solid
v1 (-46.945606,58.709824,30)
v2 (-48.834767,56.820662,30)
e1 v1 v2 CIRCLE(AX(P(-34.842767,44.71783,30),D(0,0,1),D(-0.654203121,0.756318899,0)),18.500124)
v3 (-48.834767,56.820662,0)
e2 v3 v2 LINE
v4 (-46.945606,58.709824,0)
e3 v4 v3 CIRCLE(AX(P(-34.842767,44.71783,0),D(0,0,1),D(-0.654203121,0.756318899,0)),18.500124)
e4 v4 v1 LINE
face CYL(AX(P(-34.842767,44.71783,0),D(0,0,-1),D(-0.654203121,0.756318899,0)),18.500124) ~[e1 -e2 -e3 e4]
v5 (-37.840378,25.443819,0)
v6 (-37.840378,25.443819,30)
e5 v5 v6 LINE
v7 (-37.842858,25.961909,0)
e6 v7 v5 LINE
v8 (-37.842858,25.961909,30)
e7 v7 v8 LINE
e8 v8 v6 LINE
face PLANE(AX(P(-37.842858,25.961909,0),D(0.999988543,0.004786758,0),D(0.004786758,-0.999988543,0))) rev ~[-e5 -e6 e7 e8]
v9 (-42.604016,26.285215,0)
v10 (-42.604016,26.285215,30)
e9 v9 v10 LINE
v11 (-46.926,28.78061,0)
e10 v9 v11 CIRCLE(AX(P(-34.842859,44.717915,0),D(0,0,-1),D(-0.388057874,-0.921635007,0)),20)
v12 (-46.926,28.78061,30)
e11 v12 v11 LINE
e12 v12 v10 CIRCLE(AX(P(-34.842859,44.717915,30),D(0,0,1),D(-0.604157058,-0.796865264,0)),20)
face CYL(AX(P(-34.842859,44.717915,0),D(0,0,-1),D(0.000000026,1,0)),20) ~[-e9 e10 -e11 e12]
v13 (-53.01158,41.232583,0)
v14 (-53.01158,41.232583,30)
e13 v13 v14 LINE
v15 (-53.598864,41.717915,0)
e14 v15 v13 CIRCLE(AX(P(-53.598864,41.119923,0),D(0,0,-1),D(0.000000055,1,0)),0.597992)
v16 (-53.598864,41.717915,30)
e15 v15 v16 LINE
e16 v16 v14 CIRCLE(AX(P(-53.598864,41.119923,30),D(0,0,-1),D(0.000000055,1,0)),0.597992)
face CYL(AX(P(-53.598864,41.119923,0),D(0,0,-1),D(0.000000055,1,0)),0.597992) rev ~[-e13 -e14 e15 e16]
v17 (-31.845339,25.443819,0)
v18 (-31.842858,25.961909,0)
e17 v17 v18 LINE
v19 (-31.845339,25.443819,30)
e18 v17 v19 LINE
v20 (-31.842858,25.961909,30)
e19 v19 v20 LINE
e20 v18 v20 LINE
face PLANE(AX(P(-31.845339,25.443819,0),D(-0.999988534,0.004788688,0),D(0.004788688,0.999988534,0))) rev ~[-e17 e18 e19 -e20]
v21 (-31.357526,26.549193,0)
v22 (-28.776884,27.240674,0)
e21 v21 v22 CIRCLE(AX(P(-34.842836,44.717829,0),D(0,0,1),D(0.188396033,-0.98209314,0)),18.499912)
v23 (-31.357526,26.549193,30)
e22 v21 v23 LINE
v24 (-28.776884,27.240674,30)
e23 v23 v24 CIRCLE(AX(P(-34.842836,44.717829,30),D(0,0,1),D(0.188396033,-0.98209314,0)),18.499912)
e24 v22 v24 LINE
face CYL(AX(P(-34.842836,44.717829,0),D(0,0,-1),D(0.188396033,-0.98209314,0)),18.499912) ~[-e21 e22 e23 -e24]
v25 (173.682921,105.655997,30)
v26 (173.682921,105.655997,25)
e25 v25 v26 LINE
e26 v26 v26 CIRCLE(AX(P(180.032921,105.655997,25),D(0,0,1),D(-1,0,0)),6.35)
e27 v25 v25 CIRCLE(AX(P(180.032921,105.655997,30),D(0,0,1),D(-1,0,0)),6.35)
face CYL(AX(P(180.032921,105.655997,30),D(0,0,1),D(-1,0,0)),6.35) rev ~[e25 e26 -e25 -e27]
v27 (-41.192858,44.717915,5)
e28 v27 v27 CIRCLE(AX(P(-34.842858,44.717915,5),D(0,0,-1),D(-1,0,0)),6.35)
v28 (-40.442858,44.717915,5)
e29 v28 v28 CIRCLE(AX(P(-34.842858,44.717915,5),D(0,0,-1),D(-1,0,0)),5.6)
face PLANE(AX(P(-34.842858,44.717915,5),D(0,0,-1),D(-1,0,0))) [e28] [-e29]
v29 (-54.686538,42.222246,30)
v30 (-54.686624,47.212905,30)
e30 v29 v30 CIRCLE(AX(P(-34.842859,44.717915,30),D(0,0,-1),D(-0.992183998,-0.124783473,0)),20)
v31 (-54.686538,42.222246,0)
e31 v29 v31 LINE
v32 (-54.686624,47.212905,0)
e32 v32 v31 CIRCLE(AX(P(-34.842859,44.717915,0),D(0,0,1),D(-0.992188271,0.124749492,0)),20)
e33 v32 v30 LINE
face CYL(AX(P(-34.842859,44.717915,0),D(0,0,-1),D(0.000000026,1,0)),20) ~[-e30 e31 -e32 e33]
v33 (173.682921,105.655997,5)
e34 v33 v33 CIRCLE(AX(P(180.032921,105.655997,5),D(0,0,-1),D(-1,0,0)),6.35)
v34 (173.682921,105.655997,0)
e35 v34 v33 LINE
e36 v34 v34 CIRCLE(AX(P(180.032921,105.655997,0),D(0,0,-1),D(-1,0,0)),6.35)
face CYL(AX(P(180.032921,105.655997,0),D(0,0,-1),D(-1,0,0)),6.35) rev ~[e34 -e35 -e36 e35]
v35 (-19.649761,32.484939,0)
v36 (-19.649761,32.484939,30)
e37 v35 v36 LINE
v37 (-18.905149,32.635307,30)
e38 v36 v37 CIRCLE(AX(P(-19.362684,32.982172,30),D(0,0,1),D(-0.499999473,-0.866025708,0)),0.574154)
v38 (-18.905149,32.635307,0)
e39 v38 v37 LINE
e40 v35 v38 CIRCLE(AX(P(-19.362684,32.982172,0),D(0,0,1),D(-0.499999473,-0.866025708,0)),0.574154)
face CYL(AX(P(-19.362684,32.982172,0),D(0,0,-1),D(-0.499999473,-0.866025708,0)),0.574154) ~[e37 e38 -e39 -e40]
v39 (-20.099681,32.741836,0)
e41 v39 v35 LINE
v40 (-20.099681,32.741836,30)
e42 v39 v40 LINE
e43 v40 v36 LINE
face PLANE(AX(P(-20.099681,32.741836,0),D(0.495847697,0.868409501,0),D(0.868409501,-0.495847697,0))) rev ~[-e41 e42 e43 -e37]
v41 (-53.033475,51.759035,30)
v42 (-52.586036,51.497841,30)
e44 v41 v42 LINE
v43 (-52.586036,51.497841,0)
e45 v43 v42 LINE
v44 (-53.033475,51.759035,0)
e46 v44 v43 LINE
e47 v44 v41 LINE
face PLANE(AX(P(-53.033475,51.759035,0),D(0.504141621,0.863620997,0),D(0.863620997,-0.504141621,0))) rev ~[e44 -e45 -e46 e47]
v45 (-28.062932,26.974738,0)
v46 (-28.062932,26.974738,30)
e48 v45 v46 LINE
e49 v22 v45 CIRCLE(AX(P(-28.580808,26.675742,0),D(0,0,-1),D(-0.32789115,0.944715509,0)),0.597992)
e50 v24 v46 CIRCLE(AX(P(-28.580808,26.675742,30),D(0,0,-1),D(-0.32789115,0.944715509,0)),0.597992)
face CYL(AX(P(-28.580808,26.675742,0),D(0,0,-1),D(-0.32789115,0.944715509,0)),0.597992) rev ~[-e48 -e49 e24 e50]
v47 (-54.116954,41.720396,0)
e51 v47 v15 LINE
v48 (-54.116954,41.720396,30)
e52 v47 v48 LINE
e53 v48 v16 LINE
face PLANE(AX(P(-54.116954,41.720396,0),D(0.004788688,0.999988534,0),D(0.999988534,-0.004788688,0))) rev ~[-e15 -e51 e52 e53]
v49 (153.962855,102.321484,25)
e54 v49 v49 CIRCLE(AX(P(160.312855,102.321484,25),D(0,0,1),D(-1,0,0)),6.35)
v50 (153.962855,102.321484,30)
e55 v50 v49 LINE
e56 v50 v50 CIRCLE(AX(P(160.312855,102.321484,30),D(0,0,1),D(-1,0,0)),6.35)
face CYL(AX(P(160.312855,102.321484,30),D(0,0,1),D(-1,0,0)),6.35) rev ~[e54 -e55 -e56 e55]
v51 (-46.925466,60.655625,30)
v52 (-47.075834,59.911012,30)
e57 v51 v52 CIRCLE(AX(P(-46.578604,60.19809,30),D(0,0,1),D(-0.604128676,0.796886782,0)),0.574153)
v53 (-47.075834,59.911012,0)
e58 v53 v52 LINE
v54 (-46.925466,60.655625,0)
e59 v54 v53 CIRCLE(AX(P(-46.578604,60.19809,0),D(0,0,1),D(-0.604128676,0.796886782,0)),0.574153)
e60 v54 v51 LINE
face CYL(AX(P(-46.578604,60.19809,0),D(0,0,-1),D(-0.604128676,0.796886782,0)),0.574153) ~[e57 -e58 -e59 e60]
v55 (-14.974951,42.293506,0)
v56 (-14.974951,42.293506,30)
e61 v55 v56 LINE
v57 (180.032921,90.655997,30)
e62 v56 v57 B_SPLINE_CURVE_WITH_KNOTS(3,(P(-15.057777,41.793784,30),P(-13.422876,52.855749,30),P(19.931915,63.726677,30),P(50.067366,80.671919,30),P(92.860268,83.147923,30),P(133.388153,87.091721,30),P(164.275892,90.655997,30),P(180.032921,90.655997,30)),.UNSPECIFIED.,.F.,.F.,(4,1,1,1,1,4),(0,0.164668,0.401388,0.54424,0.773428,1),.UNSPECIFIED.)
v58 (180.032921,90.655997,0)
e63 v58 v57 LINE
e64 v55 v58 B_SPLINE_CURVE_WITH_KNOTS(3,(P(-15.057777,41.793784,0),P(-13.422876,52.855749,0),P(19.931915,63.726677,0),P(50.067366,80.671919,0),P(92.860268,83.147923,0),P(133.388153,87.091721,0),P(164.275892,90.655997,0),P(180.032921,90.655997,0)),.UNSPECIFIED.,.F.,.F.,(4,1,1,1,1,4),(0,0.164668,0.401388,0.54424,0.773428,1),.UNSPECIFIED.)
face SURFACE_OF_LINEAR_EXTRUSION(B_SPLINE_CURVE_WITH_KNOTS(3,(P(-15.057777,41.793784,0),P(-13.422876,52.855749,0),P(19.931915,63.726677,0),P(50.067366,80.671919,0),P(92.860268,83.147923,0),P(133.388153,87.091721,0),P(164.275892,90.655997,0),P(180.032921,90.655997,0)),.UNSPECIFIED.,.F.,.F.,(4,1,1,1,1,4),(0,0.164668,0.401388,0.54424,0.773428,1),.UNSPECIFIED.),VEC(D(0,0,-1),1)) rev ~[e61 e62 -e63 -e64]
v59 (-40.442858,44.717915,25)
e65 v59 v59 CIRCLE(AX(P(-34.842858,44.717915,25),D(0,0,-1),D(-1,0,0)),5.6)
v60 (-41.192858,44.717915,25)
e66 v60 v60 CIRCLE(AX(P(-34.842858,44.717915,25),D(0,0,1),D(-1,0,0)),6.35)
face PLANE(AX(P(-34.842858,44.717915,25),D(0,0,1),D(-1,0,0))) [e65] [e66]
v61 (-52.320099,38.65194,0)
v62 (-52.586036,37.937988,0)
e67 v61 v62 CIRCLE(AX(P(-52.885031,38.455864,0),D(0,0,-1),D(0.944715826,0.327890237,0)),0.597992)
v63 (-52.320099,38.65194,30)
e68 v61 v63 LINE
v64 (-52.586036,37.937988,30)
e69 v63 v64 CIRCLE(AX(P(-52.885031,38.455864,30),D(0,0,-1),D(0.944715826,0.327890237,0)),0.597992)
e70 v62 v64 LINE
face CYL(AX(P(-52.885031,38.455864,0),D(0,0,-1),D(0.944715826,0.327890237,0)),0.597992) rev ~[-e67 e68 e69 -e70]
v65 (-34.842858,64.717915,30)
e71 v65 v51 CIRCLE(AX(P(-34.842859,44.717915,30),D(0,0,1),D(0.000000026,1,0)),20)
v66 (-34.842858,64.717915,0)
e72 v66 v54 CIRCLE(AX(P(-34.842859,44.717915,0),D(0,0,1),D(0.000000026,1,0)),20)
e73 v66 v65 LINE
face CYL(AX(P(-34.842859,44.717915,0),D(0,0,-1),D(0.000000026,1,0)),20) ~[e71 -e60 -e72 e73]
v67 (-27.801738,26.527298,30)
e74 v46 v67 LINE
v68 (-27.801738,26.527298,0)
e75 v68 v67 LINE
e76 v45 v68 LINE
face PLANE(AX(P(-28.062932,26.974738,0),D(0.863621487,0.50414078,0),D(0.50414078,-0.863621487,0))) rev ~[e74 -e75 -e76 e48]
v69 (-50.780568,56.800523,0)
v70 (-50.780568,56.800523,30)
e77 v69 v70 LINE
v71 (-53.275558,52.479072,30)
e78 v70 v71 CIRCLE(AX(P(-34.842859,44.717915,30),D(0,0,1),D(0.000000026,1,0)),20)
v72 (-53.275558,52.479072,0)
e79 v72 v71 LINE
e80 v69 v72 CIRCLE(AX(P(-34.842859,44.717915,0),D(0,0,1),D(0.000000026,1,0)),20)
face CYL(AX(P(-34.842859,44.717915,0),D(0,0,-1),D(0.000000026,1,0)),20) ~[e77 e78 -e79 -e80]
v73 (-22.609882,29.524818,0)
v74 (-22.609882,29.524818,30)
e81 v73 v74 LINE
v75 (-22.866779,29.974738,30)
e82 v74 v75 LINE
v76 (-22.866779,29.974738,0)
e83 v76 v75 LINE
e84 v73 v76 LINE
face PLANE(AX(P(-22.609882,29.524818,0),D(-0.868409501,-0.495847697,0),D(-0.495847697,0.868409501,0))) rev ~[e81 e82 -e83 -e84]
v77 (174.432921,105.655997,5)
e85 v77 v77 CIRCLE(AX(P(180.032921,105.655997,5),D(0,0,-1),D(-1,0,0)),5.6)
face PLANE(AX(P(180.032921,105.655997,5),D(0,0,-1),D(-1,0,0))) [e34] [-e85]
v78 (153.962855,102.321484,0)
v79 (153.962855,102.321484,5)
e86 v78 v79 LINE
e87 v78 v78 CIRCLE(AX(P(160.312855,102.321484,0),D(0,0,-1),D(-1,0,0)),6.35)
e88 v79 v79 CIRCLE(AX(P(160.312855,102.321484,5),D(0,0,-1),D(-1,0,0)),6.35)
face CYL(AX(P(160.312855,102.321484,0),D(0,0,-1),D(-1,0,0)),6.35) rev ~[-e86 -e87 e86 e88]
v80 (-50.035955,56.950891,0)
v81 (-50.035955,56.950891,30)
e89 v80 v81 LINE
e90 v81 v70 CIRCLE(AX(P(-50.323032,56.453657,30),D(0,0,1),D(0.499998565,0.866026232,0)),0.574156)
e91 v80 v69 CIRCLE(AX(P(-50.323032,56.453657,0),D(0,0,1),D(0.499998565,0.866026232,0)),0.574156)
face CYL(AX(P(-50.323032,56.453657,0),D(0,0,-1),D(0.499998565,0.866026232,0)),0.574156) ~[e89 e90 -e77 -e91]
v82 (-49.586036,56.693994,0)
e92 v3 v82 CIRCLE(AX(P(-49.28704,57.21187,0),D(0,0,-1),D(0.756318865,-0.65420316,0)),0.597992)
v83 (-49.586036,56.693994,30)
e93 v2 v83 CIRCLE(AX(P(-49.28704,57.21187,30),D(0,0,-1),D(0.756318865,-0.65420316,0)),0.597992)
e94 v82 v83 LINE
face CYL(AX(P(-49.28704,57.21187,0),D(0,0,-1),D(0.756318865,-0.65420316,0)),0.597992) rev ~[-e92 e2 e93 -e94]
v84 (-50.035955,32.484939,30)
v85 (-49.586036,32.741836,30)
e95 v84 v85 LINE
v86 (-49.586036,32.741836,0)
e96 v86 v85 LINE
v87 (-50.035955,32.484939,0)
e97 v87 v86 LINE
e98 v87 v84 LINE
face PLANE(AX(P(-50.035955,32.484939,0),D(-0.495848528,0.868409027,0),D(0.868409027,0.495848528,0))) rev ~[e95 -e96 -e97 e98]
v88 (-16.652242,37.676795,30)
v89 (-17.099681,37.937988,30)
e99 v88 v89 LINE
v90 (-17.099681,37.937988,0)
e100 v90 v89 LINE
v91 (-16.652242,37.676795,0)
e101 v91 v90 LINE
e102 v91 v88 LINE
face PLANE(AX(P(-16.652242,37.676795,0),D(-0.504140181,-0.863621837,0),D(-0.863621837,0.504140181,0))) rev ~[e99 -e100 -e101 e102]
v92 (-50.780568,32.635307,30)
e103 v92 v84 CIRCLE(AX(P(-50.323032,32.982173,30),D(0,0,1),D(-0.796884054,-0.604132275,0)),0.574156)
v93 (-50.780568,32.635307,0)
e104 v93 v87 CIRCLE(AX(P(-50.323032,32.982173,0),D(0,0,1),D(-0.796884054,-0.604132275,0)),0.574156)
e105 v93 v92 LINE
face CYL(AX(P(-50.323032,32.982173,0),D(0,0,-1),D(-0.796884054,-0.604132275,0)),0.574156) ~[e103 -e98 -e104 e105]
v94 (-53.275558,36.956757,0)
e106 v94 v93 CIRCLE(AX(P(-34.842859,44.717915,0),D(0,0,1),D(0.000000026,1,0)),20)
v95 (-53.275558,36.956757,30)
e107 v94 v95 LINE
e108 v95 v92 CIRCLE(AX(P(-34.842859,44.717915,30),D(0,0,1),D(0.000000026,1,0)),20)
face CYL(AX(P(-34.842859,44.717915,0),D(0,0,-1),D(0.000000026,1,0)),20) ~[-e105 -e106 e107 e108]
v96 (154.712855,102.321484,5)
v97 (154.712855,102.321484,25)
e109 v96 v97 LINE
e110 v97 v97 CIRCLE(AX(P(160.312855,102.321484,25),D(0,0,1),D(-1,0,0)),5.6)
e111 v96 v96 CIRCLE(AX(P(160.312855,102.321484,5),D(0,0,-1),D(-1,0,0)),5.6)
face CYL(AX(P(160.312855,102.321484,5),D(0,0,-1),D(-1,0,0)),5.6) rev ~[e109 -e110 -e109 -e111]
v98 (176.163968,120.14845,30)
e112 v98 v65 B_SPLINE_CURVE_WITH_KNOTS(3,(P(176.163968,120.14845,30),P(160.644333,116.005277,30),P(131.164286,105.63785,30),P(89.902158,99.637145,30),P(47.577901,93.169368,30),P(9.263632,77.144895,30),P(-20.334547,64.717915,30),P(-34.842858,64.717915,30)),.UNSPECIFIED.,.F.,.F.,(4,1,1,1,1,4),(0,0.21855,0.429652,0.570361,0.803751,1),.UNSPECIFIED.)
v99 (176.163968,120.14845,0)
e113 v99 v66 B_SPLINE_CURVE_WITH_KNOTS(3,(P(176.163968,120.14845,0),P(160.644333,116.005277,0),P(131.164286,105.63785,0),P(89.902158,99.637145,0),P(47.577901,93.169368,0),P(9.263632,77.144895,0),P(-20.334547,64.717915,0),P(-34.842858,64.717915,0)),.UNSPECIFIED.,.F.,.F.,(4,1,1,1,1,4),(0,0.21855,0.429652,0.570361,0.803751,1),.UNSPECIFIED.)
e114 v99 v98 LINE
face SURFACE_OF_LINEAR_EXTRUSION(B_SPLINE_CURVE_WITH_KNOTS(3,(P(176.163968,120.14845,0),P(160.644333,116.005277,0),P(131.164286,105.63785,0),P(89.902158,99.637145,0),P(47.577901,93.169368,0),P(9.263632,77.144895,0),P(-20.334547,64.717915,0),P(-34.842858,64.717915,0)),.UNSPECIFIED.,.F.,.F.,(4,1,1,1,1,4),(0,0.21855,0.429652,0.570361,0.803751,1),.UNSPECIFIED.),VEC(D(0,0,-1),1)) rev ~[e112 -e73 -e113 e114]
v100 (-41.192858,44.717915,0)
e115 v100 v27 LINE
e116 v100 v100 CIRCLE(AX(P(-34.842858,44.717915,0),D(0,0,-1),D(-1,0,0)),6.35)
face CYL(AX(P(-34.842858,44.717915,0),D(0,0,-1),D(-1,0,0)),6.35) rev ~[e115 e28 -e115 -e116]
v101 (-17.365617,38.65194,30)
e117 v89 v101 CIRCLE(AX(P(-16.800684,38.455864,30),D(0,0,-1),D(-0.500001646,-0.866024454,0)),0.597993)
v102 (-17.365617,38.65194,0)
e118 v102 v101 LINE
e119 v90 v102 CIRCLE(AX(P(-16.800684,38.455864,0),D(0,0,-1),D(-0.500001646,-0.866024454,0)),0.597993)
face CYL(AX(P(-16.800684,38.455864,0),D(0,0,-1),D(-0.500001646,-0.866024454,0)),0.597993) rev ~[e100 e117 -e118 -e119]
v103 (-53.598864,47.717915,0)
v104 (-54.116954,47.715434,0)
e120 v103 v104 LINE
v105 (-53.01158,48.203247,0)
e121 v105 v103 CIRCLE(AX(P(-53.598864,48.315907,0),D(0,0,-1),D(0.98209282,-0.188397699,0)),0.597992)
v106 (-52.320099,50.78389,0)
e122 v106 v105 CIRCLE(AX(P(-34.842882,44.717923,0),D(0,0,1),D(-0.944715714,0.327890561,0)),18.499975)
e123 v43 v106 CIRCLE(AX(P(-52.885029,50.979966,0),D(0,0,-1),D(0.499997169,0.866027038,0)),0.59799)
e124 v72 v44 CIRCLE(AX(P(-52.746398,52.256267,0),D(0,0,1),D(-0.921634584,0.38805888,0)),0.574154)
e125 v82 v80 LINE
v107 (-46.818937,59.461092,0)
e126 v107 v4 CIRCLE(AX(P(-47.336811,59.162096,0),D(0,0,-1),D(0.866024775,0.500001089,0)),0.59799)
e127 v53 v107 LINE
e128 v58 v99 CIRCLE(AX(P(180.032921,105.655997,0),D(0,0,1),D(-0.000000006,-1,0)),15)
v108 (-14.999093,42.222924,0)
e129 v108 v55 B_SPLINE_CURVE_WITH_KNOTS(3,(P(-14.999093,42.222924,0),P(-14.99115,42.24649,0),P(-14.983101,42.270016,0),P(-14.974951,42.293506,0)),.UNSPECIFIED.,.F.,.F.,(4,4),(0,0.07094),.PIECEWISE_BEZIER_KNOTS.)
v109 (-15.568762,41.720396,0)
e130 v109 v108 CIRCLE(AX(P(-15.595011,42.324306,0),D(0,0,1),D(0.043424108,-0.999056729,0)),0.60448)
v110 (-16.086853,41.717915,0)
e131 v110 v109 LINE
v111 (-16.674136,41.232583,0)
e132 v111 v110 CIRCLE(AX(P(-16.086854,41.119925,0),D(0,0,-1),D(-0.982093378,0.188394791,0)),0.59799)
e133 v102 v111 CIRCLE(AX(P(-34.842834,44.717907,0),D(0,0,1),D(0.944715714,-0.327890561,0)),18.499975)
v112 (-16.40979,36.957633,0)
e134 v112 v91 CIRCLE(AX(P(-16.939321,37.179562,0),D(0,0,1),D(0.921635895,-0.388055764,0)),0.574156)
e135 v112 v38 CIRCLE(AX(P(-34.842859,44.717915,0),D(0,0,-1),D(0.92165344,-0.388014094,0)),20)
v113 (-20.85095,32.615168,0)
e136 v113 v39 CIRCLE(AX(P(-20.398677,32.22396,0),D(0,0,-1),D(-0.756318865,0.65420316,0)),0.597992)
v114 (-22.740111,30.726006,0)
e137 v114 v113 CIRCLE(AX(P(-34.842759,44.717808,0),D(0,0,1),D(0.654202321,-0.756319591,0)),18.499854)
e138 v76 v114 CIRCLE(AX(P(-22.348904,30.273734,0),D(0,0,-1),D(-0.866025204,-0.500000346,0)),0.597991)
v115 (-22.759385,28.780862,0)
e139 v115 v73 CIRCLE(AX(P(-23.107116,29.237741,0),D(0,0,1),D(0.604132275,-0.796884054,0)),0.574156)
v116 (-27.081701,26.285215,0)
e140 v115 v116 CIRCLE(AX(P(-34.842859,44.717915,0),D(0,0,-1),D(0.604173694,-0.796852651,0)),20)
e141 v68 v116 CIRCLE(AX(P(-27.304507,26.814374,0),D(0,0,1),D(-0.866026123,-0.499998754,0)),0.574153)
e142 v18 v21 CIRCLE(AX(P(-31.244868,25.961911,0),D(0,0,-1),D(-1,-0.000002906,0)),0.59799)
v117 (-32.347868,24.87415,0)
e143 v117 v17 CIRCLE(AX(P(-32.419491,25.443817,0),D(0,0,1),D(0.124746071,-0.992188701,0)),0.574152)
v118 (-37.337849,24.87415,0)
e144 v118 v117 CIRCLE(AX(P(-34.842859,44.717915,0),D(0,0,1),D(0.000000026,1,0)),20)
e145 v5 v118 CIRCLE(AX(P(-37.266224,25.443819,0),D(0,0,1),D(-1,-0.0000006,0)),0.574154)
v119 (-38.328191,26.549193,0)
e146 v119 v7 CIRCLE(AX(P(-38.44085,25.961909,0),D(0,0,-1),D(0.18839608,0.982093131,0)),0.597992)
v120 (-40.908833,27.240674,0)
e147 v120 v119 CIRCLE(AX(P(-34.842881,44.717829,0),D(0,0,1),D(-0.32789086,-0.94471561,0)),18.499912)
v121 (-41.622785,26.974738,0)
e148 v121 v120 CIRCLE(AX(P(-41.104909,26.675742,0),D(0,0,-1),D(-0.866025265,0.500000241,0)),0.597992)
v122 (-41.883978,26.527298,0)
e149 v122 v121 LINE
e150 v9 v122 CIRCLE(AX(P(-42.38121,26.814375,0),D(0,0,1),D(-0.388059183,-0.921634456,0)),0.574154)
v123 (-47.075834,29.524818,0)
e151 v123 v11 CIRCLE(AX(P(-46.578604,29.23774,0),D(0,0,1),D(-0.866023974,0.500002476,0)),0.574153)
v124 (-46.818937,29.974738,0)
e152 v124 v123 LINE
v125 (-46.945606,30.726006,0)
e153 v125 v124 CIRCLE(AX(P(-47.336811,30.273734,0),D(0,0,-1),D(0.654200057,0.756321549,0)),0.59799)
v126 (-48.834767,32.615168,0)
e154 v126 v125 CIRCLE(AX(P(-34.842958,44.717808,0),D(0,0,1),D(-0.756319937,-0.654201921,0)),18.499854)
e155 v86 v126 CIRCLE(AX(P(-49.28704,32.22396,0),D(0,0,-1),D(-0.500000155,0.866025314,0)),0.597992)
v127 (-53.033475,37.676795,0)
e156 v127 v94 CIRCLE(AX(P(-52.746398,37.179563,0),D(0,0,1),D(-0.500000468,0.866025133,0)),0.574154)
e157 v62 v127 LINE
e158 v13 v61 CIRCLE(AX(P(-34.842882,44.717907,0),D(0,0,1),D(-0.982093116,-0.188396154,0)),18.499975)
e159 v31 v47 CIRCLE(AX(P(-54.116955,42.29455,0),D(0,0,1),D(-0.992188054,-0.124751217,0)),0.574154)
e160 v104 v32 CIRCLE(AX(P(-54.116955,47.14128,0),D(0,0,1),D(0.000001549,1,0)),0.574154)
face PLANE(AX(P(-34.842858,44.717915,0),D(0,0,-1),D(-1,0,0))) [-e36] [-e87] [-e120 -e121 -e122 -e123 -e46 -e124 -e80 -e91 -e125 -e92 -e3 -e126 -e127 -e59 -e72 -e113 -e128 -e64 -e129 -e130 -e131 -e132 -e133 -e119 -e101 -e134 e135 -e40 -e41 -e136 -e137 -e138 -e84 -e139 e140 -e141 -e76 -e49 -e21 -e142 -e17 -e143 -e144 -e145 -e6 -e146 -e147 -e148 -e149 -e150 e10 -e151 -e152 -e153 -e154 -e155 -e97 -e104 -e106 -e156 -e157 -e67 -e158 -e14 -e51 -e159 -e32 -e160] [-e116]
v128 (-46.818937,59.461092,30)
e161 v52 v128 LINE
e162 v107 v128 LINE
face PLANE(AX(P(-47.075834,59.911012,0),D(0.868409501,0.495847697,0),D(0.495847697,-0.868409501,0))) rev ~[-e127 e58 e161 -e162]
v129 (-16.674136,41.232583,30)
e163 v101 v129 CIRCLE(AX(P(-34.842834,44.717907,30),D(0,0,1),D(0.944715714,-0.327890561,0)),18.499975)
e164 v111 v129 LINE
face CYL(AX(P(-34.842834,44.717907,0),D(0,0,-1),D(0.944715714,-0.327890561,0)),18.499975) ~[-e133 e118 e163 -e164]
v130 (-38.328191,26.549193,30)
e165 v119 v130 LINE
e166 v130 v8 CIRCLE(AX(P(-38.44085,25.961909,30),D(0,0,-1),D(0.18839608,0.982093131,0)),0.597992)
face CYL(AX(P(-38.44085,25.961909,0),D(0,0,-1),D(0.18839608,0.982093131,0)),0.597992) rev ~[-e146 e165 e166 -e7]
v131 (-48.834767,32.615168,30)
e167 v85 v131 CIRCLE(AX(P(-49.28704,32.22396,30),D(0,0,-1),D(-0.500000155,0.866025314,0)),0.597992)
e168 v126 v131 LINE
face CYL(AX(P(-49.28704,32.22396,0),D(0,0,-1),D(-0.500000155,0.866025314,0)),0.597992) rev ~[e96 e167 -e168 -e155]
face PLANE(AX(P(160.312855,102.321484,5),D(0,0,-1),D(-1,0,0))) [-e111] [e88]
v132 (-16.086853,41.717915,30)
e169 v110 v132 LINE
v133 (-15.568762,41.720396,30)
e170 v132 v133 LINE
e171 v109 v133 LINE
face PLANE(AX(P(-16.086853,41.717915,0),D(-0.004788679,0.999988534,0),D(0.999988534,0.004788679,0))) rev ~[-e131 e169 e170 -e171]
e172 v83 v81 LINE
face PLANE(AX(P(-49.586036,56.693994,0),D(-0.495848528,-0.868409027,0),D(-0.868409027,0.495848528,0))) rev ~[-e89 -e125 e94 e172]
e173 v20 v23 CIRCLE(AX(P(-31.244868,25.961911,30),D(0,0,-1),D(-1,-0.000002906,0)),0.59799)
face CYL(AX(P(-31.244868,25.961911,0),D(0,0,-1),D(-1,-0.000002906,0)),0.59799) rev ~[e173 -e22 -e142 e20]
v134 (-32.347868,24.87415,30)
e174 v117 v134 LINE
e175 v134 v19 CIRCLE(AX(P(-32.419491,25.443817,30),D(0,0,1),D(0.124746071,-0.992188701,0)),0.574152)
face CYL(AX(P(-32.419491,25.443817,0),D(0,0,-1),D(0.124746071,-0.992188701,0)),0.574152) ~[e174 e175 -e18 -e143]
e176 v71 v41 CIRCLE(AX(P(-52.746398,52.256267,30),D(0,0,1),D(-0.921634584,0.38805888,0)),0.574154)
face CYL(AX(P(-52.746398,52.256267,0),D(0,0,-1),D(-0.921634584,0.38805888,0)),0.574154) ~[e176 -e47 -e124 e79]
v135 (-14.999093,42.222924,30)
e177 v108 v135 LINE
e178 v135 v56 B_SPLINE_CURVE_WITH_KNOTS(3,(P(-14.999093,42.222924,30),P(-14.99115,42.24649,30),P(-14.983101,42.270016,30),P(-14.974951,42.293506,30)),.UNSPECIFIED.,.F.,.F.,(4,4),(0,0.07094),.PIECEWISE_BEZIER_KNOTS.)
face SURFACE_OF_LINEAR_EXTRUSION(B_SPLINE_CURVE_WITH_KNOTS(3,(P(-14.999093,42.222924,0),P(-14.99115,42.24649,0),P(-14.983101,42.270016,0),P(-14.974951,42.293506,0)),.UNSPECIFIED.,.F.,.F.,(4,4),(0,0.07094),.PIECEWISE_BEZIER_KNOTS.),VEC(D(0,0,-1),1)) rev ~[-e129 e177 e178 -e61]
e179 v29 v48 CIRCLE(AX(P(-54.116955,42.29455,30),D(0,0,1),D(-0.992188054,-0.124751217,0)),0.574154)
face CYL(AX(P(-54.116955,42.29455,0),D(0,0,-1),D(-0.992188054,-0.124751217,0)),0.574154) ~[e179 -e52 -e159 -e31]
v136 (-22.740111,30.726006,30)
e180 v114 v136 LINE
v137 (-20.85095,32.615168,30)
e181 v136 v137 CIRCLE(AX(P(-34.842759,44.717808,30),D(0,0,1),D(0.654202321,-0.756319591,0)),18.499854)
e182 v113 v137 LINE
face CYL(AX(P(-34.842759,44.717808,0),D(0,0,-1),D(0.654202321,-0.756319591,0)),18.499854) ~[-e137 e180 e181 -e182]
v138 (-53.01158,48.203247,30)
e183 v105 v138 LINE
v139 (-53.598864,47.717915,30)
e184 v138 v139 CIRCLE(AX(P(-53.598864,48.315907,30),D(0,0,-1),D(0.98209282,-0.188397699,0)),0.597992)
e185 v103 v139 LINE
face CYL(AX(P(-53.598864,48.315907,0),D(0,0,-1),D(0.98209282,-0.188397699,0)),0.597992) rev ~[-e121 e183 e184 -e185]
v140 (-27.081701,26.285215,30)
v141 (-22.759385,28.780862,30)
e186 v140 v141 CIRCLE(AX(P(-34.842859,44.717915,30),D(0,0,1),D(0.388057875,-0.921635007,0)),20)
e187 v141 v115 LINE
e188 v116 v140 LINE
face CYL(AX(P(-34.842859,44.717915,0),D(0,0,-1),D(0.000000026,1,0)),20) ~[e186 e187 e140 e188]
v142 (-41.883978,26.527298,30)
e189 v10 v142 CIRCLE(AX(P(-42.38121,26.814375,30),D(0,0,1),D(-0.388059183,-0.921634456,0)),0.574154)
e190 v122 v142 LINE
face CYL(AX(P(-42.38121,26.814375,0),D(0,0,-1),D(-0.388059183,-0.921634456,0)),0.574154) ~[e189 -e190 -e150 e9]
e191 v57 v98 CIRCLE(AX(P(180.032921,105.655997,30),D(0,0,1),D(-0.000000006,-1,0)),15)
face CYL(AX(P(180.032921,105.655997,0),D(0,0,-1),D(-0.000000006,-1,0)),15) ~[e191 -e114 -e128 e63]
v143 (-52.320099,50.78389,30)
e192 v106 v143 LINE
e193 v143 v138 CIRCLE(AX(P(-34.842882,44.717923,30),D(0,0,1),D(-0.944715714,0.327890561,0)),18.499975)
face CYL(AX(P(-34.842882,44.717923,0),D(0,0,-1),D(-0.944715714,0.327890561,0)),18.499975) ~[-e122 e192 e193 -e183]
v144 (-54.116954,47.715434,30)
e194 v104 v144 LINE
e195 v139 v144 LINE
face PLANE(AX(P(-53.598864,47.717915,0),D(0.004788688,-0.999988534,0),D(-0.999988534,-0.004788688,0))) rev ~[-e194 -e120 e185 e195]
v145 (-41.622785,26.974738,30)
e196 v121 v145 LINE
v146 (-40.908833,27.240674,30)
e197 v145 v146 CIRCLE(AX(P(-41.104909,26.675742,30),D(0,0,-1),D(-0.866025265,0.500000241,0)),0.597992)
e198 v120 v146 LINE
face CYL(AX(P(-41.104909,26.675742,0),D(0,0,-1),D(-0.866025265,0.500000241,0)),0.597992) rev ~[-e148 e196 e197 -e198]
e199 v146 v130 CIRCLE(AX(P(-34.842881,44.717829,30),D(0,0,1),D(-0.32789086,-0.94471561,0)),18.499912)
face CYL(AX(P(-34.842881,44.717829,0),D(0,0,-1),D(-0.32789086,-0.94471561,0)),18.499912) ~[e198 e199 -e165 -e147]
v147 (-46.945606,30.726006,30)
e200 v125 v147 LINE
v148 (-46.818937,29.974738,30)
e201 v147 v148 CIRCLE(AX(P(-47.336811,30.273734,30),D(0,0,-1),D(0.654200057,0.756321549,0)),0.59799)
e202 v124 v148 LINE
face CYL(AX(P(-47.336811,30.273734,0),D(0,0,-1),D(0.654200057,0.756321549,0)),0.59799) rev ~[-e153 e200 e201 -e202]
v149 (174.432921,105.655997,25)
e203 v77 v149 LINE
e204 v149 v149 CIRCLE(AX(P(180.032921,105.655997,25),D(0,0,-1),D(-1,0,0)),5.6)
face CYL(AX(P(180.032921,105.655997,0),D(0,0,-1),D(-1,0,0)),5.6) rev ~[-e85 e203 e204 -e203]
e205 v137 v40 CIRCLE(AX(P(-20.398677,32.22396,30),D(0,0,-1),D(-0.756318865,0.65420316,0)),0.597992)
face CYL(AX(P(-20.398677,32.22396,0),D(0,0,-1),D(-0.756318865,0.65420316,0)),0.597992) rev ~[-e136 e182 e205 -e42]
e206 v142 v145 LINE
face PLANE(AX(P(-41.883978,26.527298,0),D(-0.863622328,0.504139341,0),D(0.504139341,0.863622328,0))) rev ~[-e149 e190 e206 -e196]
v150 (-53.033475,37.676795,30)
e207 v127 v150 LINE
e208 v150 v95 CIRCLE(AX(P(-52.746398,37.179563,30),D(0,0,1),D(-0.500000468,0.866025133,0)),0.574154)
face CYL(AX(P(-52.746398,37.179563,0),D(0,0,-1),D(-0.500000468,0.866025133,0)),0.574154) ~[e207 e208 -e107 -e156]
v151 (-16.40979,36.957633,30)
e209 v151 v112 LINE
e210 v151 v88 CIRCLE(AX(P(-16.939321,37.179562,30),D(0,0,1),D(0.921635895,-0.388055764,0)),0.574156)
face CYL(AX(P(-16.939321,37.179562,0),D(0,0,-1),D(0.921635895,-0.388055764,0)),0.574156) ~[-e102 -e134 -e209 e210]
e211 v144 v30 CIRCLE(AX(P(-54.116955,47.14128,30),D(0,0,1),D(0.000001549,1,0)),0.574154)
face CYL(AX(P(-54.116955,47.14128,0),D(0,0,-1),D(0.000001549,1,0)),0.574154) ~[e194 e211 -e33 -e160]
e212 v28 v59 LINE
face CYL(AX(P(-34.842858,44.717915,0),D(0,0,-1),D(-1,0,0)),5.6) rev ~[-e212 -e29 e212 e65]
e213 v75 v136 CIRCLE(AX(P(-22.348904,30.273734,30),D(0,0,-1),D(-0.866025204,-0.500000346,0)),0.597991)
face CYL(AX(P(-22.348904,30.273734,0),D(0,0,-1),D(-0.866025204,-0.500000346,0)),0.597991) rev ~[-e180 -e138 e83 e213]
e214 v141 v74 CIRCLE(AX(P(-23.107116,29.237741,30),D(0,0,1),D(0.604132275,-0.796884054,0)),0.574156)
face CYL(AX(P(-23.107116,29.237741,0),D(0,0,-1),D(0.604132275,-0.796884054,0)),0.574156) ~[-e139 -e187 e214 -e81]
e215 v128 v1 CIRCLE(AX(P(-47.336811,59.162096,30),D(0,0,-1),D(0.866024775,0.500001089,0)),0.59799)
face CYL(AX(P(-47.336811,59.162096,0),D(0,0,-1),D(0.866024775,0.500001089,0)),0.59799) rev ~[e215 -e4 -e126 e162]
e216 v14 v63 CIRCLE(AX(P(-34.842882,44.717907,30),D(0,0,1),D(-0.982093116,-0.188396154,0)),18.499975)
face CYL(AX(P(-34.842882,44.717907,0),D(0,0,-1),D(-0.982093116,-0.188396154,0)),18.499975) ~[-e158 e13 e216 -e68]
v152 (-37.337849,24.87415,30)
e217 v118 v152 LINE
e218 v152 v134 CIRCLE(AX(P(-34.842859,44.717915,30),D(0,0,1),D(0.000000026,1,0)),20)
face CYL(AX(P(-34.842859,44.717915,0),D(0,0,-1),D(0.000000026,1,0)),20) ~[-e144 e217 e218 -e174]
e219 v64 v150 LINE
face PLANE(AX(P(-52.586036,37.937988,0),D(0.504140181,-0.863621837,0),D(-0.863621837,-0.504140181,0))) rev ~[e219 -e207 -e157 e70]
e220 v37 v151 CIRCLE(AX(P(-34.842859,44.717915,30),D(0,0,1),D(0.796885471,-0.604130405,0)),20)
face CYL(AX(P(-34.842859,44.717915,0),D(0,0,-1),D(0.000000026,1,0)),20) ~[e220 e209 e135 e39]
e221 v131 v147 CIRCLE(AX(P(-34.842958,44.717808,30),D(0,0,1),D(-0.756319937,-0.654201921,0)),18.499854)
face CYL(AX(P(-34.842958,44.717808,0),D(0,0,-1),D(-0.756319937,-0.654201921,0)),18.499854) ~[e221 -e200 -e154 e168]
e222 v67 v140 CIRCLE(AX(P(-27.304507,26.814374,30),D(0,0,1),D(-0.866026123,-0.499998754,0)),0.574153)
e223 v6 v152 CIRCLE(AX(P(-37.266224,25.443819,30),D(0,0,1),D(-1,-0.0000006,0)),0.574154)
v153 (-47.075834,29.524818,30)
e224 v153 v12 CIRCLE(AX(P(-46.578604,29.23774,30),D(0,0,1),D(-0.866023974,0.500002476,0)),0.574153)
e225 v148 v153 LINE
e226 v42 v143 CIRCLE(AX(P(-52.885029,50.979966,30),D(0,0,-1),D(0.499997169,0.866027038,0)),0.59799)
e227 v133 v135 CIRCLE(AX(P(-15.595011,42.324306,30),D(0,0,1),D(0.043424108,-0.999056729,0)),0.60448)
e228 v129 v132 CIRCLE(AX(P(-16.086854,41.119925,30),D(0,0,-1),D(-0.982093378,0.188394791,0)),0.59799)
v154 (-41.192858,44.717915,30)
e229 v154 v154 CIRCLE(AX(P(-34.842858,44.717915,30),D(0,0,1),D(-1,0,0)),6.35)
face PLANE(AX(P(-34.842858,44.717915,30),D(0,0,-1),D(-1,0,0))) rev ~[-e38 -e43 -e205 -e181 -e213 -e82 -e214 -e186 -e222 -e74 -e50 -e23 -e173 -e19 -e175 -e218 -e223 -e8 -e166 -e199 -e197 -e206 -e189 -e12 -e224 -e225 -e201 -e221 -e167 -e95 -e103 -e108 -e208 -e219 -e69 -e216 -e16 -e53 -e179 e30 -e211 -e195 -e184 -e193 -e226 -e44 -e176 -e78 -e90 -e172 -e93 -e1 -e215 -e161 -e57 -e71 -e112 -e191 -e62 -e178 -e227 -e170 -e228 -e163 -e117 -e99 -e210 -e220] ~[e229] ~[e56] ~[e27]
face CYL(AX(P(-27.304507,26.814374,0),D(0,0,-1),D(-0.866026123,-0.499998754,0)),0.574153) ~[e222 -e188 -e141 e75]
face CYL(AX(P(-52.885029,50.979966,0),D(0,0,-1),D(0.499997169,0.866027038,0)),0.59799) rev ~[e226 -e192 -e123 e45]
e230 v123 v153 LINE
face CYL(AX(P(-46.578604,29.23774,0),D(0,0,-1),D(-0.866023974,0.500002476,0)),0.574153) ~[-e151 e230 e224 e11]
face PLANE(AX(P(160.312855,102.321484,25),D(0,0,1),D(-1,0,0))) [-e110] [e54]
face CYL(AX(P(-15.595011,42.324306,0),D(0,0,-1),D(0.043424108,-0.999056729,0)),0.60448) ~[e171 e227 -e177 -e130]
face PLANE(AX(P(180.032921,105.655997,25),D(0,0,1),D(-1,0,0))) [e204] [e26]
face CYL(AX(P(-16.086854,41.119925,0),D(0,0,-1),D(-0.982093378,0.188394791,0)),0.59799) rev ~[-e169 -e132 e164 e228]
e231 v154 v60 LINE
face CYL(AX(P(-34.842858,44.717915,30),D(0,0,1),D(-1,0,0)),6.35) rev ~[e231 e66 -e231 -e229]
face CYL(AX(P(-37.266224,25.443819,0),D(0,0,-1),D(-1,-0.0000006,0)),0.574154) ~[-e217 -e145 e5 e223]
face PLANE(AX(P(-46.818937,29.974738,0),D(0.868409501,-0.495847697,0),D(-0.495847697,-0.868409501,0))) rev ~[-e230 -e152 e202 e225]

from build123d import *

# Parameters (mm, degrees)
CROQUIS2_R              = 6.35
SALIENTE_EXTRUIR1_DEPTH = 30
CROQUIS5_R              = 7.443338
CROQUIS5_R_2            = 2.5
CROQUIS5_R_3            = 7.334997
SALIENTE_EXTRUIR4_DEPTH = 30
CROQUIS6_R              = 6.35
CORTAR_EXTRUIR2_DEPTH   = 5
CROQUIS7_R              = 5.6
CORTAR_EXTRUIR3_DEPTH   = 30
CROQUIS8_R              = 6.35
CROQUIS8_R_2            = 5.6
CORTAR_EXTRUIR4_DEPTH   = 5
CROQUIS9_R              = 5.6
CORTAR_EXTRUIR6_DEPTH   = 30
CROQUIS10_R             = 6.35
CORTAR_EXTRUIR7_DEPTH   = 5
CROQUIS11_R             = 6.35
CORTAR_EXTRUIR8_DEPTH   = 5
CROQUIS14_R             = 6.35
CROQUIS14_R_2           = 5.6
SALIENTE_EXTRUIR5_DEPTH = 30
CROQUIS15_R             = 6.35
CORTAR_EXTRUIR9_DEPTH   = 5
CROQUIS16_R             = 6.35
CORTAR_EXTRUIR10_DEPTH  = 5
CORTAR_EXTRUIR11_DEPTH  = 30
CORTAR_EXTRUIR12_DEPTH  = 30


with BuildPart() as part:
    # Croquis2 → Saliente-Extruir1 (new body)
    with BuildSketch(Plane.XY):
        with BuildLine():
            ThreePointArc((180.032921, 90.655997), (194.905493, 107.607048), (176.163968, 120.14845))
            add(Edge.make_bspline(
                [(176.163968, 120.14845), (160.644333, 116.005277), (131.164286, 105.63785), (89.902158, 99.637145), (47.577901, 93.169368), (9.263632, 77.144895), (-20.334547, 64.717915), (-34.842858, 64.717915)],
                knots=[0, 0, 0, 0, 0.21855, 0.429652, 0.570361, 0.803751, 1, 1, 1, 1], degree=3))
            ThreePointArc((-34.842858, 64.717915), (-49.983575, 31.650448), (-15.057777, 41.793784))
            add(Edge.make_bspline(
                [(-15.057777, 41.793784), (-13.422876, 52.855749), (19.931915, 63.726677), (50.067366, 80.671919), (92.860268, 83.147923), (133.388153, 87.091721), (164.275892, 90.655997), (180.032921, 90.655997)],
                knots=[0, 0, 0, 0, 0.164668, 0.401388, 0.54424, 0.773428, 1, 1, 1, 1], degree=3))
        make_face()
        with Locations((160.312855, 102.321484)):
            Circle(CROQUIS2_R, mode=Mode.SUBTRACT)
        with Locations((180.032921, 105.655997)):
            Circle(CROQUIS2_R, mode=Mode.SUBTRACT)
        with Locations((-34.842858, 44.717915)):
            Circle(CROQUIS2_R, mode=Mode.SUBTRACT)
    extrude(amount=SALIENTE_EXTRUIR1_DEPTH)

    # Croquis5 → Saliente-Extruir4 (add)
    with BuildSketch(Plane(origin=(0, 0, 0), x_dir=(-1, 0, 0), z_dir=(0, 0, -1))):
        with Locations((-180.032921, 105.655997)):
            Circle(CROQUIS5_R)
        with Locations((-180.032921, 105.655997)):
            Circle(CROQUIS5_R_2, mode=Mode.SUBTRACT)
        with Locations((-160.312855, 102.321484)):
            Circle(CROQUIS5_R_3)
        with Locations((-160.312855, 102.321484)):
            Circle(CROQUIS5_R_2, mode=Mode.SUBTRACT)
    extrude(amount=-SALIENTE_EXTRUIR4_DEPTH)

    # Croquis6 → Cortar-Extruir2 (cut)
    with BuildSketch(Plane(origin=(0, 0, 0), x_dir=(-1, 0, 0), z_dir=(0, 0, -1))):
        with Locations((-160.312855, 102.321484)):
            Circle(CROQUIS6_R)
    extrude(amount=-CORTAR_EXTRUIR2_DEPTH, mode=Mode.SUBTRACT)

    # Croquis7 → Cortar-Extruir3 (cut)
    with BuildSketch(Plane(origin=(0, 0, 5), x_dir=(-1, 0, 0), z_dir=(0, 0, -1))):
        with Locations((-160.312855, 102.321484)):
            Circle(CROQUIS7_R)
    extrude(amount=-CORTAR_EXTRUIR3_DEPTH, mode=Mode.SUBTRACT)

    # Croquis8 → Cortar-Extruir4 (cut)
    with BuildSketch(Plane.XY.offset(30)):
        with Locations(Location((160.312855, 102.321484, 0), (0, 0, 180))):
            Circle(CROQUIS8_R)
        with Locations(Location((160.312855, 102.321484, 0), (0, 0, 180))):
            Circle(CROQUIS8_R_2, mode=Mode.SUBTRACT)
    extrude(amount=-CORTAR_EXTRUIR4_DEPTH, mode=Mode.SUBTRACT)

    # Croquis9 → Cortar-Extruir6 (cut)
    with BuildSketch(Plane(origin=(0, 0, 0), x_dir=(-1, 0, 0), z_dir=(0, 0, -1))):
        with Locations((-180.032921, 105.655997)):
            Circle(CROQUIS9_R)
    extrude(amount=-CORTAR_EXTRUIR6_DEPTH, mode=Mode.SUBTRACT)

    # Croquis10 → Cortar-Extruir7 (cut)
    with BuildSketch(Plane(origin=(0, 0, 0), x_dir=(-1, 0, 0), z_dir=(0, 0, -1))):
        with Locations((-180.032921, 105.655997)):
            Circle(CROQUIS10_R)
    extrude(amount=-CORTAR_EXTRUIR7_DEPTH, mode=Mode.SUBTRACT)

    # Croquis11 → Cortar-Extruir8 (cut)
    with BuildSketch(Plane.XY.offset(30)):
        with Locations(Location((180.032921, 105.655997, 0), (0, 0, 180))):
            Circle(CROQUIS11_R)
    extrude(amount=-CORTAR_EXTRUIR8_DEPTH, mode=Mode.SUBTRACT)

    # Croquis14 → Saliente-Extruir5 (add)
    with BuildSketch(Plane(origin=(0, 0, 0), x_dir=(-1, 0, 0), z_dir=(0, 0, -1))):
        with Locations((34.842858, 44.717915)):
            Circle(CROQUIS14_R)
        with Locations((34.842858, 44.717915)):
            Circle(CROQUIS14_R_2, mode=Mode.SUBTRACT)
    extrude(amount=-SALIENTE_EXTRUIR5_DEPTH)

    # Croquis15 → Cortar-Extruir9 (cut)
    with BuildSketch(Plane(origin=(0, 0, 0), x_dir=(-1, 0, 0), z_dir=(0, 0, -1))):
        with Locations((34.842858, 44.717915)):
            Circle(CROQUIS15_R)
    extrude(amount=-CORTAR_EXTRUIR9_DEPTH, mode=Mode.SUBTRACT)

    # Croquis16 → Cortar-Extruir10 (cut)
    with BuildSketch(Plane.XY.offset(30)):
        with Locations(Location((-34.842858, 44.717915, 0), (0, 0, 180))):
            Circle(CROQUIS16_R)
    extrude(amount=-CORTAR_EXTRUIR10_DEPTH, mode=Mode.SUBTRACT)

    # Croquis17 → Cortar-Extruir11 (cut)
    with BuildSketch(Plane(origin=(0, 0, 0), x_dir=(-1, 0, 0), z_dir=(0, 0, -1))):
        with BuildLine():
            Line((37.842858, 25.961909), (37.840378, 25.443819))
            ThreePointArc((37.840378, 25.443819), (37.696791, 25.063997), (37.337849, 24.87415))
            ThreePointArc((37.337849, 24.87415), (40.019239, 25.399398), (42.604016, 26.285215))
            ThreePointArc((42.604016, 26.285215), (42.198239, 26.270156), (41.883978, 26.527298))
            Line((41.883978, 26.527298), (41.622785, 26.974738))
            ThreePointArc((41.622785, 26.974738), (41.313642, 27.236121), (40.908833, 27.240674))
            ThreePointArc((40.908833, 27.240674), (39.631011, 26.848287), (38.328191, 26.549193))
            ThreePointArc((38.328191, 26.549193), (37.979893, 26.342846), (37.842858, 25.961909))
        make_face()
        with BuildLine():
            ThreePointArc((27.081701, 26.285215), (29.666477, 25.399398), (32.347868, 24.87415))
            ThreePointArc((32.347868, 24.87415), (31.988925, 25.063997), (31.845339, 25.443819))
            Line((31.845339, 25.443819), (31.842858, 25.961909))
            ThreePointArc((31.842858, 25.961909), (31.705824, 26.342846), (31.357526, 26.549193))
            ThreePointArc((31.357526, 26.549193), (30.054706, 26.848287), (28.776884, 27.240674))
            ThreePointArc((28.776884, 27.240674), (28.372075, 27.236121), (28.062932, 26.974738))
            Line((28.062932, 26.974738), (27.801738, 26.527298))
            ThreePointArc((27.801738, 26.527298), (27.487478, 26.270156), (27.081701, 26.285215))
        make_face()
        with BuildLine():
            ThreePointArc((47.075834, 29.524818), (47.141396, 29.124089), (46.925466, 28.780205))
            ThreePointArc((46.925466, 28.780205), (48.984994, 30.575779), (50.780568, 32.635307))
            ThreePointArc((50.780568, 32.635307), (50.436684, 32.419378), (50.035955, 32.484939))
            Line((50.035955, 32.484939), (49.586036, 32.741836))
            ThreePointArc((49.586036, 32.741836), (49.187618, 32.813629), (48.834767, 32.615168))
            ThreePointArc((48.834767, 32.615168), (47.924334, 31.636439), (46.945606, 30.726006))
            ThreePointArc((46.945606, 30.726006), (46.747144, 30.373155), (46.818937, 29.974738))
            Line((46.818937, 29.974738), (47.075834, 29.524818))
        make_face()
        with BuildLine():
            ThreePointArc((18.905149, 32.635307), (20.700723, 30.575779), (22.76025, 28.780205))
            ThreePointArc((22.76025, 28.780205), (22.544321, 29.124089), (22.609882, 29.524818))
            Line((22.609882, 29.524818), (22.866779, 29.974738))
            ThreePointArc((22.866779, 29.974738), (22.938572, 30.373155), (22.740111, 30.726006))
            ThreePointArc((22.740111, 30.726006), (21.761383, 31.636439), (20.85095, 32.615168))
            ThreePointArc((20.85095, 32.615168), (20.498099, 32.813629), (20.099681, 32.741836))
            Line((20.099681, 32.741836), (19.649761, 32.484939))
            ThreePointArc((19.649761, 32.484939), (19.249032, 32.419378), (18.905149, 32.635307))
        make_face()
        with BuildLine():
            ThreePointArc((53.033475, 37.676795), (53.290617, 37.362534), (53.275558, 36.956757))
            ThreePointArc((53.275558, 36.956757), (54.161375, 39.541534), (54.686624, 42.222924))
            ThreePointArc((54.686624, 42.222924), (54.496776, 41.863982), (54.116954, 41.720396))
            Line((54.116954, 41.720396), (53.598864, 41.717915))
            ThreePointArc((53.598864, 41.717915), (53.217928, 41.580881), (53.01158, 41.232583))
            ThreePointArc((53.01158, 41.232583), (52.712486, 39.929763), (52.320099, 38.65194))
            ThreePointArc((52.320099, 38.65194), (52.324652, 38.247132), (52.586036, 37.937988))
            Line((52.586036, 37.937988), (53.033475, 37.676795))
        make_face()
        with BuildLine():
            ThreePointArc((15.568762, 41.720396), (15.18894, 41.863982), (14.999093, 42.222924))
            Line((14.999093, 42.222924), (14.987998, 42.221529))
            add(Edge.make_bspline(
                [(15.057777, 41.793784), (15.03654, 41.937475), (15.01327, 42.080052), (14.987998, 42.221529)],
                knots=[0, 0, 0, 0, 0.002139, 0.002139, 0.002139, 0.002139], degree=3))
            ThreePointArc((15.057777, 41.793784), (15.581526, 39.33265), (16.410158, 36.956757))
            ThreePointArc((16.410158, 36.956757), (16.3951, 37.362534), (16.652242, 37.676795))
            Line((16.652242, 37.676795), (17.099681, 37.937988))
            ThreePointArc((17.099681, 37.937988), (17.361064, 38.247132), (17.365617, 38.65194))
            ThreePointArc((17.365617, 38.65194), (16.97323, 39.929763), (16.674136, 41.232583))
            ThreePointArc((16.674136, 41.232583), (16.467789, 41.580881), (16.086853, 41.717915))
            Line((16.086853, 41.717915), (15.568762, 41.720396))
        make_face()
        with BuildLine():
            ThreePointArc((54.116954, 47.715434), (54.496776, 47.571848), (54.686624, 47.212905))
            ThreePointArc((54.686624, 47.212905), (54.161375, 49.894296), (53.275558, 52.479072))
            ThreePointArc((53.275558, 52.479072), (53.290617, 52.073296), (53.033475, 51.759035))
            Line((53.033475, 51.759035), (52.586036, 51.497841))
            ThreePointArc((52.586036, 51.497841), (52.324652, 51.188698), (52.320099, 50.78389))
            ThreePointArc((52.320099, 50.78389), (52.712486, 49.506067), (53.01158, 48.203247))
            ThreePointArc((53.01158, 48.203247), (53.217928, 47.854949), (53.598864, 47.717915))
            Line((53.598864, 47.717915), (54.116954, 47.715434))
        make_face()
        with BuildLine():
            ThreePointArc((50.035955, 56.950891), (50.436684, 57.016452), (50.780568, 56.800523))
            ThreePointArc((50.780568, 56.800523), (48.984994, 58.860051), (46.925466, 60.655625))
            ThreePointArc((46.925466, 60.655625), (47.141396, 60.311741), (47.075834, 59.911012))
            Line((47.075834, 59.911012), (46.818937, 59.461092))
            ThreePointArc((46.818937, 59.461092), (46.747144, 59.062675), (46.945606, 58.709824))
            ThreePointArc((46.945606, 58.709824), (47.924334, 57.79939), (48.834767, 56.820662))
            ThreePointArc((48.834767, 56.820662), (49.187618, 56.622201), (49.586036, 56.693994))
            Line((49.586036, 56.693994), (50.035955, 56.950891))
        make_face()
    extrude(amount=-CORTAR_EXTRUIR11_DEPTH, mode=Mode.SUBTRACT)

    # Croquis19 → Cortar-Extruir12 (cut)
    with BuildSketch(Plane(origin=(0, 0, 0), x_dir=(-1, 0, 0), z_dir=(0, 0, -1))):
        with BuildLine():
            add(Edge.make_bspline(
                [(14.999093, 42.222924), (14.99115, 42.24649), (14.983101, 42.270016), (14.974951, 42.293506)],
                knots=[0, 0, 0, 0, 0.07094, 0.07094, 0.07094, 0.07094], degree=3))
            add(Edge.make_bspline(
                [(14.987998, 42.221529), (14.983706, 42.245553), (14.979357, 42.269545), (14.974951, 42.293506)],
                knots=[0.002139, 0.002139, 0.002139, 0.002139, 0.002502, 0.002502, 0.002502, 0.002502], degree=3))
            Line((14.987998, 42.221529), (14.999093, 42.222924))
        make_face()
        with BuildLine():
            ThreePointArc((15.568762, 41.720396), (15.195128, 41.870996), (14.999093, 42.222924))
            ThreePointArc((14.999093, 42.222924), (15.18894, 41.863982), (15.568762, 41.720396))
        make_face()
    extrude(amount=-CORTAR_EXTRUIR12_DEPTH, mode=Mode.SUBTRACT)


solid = part.part
